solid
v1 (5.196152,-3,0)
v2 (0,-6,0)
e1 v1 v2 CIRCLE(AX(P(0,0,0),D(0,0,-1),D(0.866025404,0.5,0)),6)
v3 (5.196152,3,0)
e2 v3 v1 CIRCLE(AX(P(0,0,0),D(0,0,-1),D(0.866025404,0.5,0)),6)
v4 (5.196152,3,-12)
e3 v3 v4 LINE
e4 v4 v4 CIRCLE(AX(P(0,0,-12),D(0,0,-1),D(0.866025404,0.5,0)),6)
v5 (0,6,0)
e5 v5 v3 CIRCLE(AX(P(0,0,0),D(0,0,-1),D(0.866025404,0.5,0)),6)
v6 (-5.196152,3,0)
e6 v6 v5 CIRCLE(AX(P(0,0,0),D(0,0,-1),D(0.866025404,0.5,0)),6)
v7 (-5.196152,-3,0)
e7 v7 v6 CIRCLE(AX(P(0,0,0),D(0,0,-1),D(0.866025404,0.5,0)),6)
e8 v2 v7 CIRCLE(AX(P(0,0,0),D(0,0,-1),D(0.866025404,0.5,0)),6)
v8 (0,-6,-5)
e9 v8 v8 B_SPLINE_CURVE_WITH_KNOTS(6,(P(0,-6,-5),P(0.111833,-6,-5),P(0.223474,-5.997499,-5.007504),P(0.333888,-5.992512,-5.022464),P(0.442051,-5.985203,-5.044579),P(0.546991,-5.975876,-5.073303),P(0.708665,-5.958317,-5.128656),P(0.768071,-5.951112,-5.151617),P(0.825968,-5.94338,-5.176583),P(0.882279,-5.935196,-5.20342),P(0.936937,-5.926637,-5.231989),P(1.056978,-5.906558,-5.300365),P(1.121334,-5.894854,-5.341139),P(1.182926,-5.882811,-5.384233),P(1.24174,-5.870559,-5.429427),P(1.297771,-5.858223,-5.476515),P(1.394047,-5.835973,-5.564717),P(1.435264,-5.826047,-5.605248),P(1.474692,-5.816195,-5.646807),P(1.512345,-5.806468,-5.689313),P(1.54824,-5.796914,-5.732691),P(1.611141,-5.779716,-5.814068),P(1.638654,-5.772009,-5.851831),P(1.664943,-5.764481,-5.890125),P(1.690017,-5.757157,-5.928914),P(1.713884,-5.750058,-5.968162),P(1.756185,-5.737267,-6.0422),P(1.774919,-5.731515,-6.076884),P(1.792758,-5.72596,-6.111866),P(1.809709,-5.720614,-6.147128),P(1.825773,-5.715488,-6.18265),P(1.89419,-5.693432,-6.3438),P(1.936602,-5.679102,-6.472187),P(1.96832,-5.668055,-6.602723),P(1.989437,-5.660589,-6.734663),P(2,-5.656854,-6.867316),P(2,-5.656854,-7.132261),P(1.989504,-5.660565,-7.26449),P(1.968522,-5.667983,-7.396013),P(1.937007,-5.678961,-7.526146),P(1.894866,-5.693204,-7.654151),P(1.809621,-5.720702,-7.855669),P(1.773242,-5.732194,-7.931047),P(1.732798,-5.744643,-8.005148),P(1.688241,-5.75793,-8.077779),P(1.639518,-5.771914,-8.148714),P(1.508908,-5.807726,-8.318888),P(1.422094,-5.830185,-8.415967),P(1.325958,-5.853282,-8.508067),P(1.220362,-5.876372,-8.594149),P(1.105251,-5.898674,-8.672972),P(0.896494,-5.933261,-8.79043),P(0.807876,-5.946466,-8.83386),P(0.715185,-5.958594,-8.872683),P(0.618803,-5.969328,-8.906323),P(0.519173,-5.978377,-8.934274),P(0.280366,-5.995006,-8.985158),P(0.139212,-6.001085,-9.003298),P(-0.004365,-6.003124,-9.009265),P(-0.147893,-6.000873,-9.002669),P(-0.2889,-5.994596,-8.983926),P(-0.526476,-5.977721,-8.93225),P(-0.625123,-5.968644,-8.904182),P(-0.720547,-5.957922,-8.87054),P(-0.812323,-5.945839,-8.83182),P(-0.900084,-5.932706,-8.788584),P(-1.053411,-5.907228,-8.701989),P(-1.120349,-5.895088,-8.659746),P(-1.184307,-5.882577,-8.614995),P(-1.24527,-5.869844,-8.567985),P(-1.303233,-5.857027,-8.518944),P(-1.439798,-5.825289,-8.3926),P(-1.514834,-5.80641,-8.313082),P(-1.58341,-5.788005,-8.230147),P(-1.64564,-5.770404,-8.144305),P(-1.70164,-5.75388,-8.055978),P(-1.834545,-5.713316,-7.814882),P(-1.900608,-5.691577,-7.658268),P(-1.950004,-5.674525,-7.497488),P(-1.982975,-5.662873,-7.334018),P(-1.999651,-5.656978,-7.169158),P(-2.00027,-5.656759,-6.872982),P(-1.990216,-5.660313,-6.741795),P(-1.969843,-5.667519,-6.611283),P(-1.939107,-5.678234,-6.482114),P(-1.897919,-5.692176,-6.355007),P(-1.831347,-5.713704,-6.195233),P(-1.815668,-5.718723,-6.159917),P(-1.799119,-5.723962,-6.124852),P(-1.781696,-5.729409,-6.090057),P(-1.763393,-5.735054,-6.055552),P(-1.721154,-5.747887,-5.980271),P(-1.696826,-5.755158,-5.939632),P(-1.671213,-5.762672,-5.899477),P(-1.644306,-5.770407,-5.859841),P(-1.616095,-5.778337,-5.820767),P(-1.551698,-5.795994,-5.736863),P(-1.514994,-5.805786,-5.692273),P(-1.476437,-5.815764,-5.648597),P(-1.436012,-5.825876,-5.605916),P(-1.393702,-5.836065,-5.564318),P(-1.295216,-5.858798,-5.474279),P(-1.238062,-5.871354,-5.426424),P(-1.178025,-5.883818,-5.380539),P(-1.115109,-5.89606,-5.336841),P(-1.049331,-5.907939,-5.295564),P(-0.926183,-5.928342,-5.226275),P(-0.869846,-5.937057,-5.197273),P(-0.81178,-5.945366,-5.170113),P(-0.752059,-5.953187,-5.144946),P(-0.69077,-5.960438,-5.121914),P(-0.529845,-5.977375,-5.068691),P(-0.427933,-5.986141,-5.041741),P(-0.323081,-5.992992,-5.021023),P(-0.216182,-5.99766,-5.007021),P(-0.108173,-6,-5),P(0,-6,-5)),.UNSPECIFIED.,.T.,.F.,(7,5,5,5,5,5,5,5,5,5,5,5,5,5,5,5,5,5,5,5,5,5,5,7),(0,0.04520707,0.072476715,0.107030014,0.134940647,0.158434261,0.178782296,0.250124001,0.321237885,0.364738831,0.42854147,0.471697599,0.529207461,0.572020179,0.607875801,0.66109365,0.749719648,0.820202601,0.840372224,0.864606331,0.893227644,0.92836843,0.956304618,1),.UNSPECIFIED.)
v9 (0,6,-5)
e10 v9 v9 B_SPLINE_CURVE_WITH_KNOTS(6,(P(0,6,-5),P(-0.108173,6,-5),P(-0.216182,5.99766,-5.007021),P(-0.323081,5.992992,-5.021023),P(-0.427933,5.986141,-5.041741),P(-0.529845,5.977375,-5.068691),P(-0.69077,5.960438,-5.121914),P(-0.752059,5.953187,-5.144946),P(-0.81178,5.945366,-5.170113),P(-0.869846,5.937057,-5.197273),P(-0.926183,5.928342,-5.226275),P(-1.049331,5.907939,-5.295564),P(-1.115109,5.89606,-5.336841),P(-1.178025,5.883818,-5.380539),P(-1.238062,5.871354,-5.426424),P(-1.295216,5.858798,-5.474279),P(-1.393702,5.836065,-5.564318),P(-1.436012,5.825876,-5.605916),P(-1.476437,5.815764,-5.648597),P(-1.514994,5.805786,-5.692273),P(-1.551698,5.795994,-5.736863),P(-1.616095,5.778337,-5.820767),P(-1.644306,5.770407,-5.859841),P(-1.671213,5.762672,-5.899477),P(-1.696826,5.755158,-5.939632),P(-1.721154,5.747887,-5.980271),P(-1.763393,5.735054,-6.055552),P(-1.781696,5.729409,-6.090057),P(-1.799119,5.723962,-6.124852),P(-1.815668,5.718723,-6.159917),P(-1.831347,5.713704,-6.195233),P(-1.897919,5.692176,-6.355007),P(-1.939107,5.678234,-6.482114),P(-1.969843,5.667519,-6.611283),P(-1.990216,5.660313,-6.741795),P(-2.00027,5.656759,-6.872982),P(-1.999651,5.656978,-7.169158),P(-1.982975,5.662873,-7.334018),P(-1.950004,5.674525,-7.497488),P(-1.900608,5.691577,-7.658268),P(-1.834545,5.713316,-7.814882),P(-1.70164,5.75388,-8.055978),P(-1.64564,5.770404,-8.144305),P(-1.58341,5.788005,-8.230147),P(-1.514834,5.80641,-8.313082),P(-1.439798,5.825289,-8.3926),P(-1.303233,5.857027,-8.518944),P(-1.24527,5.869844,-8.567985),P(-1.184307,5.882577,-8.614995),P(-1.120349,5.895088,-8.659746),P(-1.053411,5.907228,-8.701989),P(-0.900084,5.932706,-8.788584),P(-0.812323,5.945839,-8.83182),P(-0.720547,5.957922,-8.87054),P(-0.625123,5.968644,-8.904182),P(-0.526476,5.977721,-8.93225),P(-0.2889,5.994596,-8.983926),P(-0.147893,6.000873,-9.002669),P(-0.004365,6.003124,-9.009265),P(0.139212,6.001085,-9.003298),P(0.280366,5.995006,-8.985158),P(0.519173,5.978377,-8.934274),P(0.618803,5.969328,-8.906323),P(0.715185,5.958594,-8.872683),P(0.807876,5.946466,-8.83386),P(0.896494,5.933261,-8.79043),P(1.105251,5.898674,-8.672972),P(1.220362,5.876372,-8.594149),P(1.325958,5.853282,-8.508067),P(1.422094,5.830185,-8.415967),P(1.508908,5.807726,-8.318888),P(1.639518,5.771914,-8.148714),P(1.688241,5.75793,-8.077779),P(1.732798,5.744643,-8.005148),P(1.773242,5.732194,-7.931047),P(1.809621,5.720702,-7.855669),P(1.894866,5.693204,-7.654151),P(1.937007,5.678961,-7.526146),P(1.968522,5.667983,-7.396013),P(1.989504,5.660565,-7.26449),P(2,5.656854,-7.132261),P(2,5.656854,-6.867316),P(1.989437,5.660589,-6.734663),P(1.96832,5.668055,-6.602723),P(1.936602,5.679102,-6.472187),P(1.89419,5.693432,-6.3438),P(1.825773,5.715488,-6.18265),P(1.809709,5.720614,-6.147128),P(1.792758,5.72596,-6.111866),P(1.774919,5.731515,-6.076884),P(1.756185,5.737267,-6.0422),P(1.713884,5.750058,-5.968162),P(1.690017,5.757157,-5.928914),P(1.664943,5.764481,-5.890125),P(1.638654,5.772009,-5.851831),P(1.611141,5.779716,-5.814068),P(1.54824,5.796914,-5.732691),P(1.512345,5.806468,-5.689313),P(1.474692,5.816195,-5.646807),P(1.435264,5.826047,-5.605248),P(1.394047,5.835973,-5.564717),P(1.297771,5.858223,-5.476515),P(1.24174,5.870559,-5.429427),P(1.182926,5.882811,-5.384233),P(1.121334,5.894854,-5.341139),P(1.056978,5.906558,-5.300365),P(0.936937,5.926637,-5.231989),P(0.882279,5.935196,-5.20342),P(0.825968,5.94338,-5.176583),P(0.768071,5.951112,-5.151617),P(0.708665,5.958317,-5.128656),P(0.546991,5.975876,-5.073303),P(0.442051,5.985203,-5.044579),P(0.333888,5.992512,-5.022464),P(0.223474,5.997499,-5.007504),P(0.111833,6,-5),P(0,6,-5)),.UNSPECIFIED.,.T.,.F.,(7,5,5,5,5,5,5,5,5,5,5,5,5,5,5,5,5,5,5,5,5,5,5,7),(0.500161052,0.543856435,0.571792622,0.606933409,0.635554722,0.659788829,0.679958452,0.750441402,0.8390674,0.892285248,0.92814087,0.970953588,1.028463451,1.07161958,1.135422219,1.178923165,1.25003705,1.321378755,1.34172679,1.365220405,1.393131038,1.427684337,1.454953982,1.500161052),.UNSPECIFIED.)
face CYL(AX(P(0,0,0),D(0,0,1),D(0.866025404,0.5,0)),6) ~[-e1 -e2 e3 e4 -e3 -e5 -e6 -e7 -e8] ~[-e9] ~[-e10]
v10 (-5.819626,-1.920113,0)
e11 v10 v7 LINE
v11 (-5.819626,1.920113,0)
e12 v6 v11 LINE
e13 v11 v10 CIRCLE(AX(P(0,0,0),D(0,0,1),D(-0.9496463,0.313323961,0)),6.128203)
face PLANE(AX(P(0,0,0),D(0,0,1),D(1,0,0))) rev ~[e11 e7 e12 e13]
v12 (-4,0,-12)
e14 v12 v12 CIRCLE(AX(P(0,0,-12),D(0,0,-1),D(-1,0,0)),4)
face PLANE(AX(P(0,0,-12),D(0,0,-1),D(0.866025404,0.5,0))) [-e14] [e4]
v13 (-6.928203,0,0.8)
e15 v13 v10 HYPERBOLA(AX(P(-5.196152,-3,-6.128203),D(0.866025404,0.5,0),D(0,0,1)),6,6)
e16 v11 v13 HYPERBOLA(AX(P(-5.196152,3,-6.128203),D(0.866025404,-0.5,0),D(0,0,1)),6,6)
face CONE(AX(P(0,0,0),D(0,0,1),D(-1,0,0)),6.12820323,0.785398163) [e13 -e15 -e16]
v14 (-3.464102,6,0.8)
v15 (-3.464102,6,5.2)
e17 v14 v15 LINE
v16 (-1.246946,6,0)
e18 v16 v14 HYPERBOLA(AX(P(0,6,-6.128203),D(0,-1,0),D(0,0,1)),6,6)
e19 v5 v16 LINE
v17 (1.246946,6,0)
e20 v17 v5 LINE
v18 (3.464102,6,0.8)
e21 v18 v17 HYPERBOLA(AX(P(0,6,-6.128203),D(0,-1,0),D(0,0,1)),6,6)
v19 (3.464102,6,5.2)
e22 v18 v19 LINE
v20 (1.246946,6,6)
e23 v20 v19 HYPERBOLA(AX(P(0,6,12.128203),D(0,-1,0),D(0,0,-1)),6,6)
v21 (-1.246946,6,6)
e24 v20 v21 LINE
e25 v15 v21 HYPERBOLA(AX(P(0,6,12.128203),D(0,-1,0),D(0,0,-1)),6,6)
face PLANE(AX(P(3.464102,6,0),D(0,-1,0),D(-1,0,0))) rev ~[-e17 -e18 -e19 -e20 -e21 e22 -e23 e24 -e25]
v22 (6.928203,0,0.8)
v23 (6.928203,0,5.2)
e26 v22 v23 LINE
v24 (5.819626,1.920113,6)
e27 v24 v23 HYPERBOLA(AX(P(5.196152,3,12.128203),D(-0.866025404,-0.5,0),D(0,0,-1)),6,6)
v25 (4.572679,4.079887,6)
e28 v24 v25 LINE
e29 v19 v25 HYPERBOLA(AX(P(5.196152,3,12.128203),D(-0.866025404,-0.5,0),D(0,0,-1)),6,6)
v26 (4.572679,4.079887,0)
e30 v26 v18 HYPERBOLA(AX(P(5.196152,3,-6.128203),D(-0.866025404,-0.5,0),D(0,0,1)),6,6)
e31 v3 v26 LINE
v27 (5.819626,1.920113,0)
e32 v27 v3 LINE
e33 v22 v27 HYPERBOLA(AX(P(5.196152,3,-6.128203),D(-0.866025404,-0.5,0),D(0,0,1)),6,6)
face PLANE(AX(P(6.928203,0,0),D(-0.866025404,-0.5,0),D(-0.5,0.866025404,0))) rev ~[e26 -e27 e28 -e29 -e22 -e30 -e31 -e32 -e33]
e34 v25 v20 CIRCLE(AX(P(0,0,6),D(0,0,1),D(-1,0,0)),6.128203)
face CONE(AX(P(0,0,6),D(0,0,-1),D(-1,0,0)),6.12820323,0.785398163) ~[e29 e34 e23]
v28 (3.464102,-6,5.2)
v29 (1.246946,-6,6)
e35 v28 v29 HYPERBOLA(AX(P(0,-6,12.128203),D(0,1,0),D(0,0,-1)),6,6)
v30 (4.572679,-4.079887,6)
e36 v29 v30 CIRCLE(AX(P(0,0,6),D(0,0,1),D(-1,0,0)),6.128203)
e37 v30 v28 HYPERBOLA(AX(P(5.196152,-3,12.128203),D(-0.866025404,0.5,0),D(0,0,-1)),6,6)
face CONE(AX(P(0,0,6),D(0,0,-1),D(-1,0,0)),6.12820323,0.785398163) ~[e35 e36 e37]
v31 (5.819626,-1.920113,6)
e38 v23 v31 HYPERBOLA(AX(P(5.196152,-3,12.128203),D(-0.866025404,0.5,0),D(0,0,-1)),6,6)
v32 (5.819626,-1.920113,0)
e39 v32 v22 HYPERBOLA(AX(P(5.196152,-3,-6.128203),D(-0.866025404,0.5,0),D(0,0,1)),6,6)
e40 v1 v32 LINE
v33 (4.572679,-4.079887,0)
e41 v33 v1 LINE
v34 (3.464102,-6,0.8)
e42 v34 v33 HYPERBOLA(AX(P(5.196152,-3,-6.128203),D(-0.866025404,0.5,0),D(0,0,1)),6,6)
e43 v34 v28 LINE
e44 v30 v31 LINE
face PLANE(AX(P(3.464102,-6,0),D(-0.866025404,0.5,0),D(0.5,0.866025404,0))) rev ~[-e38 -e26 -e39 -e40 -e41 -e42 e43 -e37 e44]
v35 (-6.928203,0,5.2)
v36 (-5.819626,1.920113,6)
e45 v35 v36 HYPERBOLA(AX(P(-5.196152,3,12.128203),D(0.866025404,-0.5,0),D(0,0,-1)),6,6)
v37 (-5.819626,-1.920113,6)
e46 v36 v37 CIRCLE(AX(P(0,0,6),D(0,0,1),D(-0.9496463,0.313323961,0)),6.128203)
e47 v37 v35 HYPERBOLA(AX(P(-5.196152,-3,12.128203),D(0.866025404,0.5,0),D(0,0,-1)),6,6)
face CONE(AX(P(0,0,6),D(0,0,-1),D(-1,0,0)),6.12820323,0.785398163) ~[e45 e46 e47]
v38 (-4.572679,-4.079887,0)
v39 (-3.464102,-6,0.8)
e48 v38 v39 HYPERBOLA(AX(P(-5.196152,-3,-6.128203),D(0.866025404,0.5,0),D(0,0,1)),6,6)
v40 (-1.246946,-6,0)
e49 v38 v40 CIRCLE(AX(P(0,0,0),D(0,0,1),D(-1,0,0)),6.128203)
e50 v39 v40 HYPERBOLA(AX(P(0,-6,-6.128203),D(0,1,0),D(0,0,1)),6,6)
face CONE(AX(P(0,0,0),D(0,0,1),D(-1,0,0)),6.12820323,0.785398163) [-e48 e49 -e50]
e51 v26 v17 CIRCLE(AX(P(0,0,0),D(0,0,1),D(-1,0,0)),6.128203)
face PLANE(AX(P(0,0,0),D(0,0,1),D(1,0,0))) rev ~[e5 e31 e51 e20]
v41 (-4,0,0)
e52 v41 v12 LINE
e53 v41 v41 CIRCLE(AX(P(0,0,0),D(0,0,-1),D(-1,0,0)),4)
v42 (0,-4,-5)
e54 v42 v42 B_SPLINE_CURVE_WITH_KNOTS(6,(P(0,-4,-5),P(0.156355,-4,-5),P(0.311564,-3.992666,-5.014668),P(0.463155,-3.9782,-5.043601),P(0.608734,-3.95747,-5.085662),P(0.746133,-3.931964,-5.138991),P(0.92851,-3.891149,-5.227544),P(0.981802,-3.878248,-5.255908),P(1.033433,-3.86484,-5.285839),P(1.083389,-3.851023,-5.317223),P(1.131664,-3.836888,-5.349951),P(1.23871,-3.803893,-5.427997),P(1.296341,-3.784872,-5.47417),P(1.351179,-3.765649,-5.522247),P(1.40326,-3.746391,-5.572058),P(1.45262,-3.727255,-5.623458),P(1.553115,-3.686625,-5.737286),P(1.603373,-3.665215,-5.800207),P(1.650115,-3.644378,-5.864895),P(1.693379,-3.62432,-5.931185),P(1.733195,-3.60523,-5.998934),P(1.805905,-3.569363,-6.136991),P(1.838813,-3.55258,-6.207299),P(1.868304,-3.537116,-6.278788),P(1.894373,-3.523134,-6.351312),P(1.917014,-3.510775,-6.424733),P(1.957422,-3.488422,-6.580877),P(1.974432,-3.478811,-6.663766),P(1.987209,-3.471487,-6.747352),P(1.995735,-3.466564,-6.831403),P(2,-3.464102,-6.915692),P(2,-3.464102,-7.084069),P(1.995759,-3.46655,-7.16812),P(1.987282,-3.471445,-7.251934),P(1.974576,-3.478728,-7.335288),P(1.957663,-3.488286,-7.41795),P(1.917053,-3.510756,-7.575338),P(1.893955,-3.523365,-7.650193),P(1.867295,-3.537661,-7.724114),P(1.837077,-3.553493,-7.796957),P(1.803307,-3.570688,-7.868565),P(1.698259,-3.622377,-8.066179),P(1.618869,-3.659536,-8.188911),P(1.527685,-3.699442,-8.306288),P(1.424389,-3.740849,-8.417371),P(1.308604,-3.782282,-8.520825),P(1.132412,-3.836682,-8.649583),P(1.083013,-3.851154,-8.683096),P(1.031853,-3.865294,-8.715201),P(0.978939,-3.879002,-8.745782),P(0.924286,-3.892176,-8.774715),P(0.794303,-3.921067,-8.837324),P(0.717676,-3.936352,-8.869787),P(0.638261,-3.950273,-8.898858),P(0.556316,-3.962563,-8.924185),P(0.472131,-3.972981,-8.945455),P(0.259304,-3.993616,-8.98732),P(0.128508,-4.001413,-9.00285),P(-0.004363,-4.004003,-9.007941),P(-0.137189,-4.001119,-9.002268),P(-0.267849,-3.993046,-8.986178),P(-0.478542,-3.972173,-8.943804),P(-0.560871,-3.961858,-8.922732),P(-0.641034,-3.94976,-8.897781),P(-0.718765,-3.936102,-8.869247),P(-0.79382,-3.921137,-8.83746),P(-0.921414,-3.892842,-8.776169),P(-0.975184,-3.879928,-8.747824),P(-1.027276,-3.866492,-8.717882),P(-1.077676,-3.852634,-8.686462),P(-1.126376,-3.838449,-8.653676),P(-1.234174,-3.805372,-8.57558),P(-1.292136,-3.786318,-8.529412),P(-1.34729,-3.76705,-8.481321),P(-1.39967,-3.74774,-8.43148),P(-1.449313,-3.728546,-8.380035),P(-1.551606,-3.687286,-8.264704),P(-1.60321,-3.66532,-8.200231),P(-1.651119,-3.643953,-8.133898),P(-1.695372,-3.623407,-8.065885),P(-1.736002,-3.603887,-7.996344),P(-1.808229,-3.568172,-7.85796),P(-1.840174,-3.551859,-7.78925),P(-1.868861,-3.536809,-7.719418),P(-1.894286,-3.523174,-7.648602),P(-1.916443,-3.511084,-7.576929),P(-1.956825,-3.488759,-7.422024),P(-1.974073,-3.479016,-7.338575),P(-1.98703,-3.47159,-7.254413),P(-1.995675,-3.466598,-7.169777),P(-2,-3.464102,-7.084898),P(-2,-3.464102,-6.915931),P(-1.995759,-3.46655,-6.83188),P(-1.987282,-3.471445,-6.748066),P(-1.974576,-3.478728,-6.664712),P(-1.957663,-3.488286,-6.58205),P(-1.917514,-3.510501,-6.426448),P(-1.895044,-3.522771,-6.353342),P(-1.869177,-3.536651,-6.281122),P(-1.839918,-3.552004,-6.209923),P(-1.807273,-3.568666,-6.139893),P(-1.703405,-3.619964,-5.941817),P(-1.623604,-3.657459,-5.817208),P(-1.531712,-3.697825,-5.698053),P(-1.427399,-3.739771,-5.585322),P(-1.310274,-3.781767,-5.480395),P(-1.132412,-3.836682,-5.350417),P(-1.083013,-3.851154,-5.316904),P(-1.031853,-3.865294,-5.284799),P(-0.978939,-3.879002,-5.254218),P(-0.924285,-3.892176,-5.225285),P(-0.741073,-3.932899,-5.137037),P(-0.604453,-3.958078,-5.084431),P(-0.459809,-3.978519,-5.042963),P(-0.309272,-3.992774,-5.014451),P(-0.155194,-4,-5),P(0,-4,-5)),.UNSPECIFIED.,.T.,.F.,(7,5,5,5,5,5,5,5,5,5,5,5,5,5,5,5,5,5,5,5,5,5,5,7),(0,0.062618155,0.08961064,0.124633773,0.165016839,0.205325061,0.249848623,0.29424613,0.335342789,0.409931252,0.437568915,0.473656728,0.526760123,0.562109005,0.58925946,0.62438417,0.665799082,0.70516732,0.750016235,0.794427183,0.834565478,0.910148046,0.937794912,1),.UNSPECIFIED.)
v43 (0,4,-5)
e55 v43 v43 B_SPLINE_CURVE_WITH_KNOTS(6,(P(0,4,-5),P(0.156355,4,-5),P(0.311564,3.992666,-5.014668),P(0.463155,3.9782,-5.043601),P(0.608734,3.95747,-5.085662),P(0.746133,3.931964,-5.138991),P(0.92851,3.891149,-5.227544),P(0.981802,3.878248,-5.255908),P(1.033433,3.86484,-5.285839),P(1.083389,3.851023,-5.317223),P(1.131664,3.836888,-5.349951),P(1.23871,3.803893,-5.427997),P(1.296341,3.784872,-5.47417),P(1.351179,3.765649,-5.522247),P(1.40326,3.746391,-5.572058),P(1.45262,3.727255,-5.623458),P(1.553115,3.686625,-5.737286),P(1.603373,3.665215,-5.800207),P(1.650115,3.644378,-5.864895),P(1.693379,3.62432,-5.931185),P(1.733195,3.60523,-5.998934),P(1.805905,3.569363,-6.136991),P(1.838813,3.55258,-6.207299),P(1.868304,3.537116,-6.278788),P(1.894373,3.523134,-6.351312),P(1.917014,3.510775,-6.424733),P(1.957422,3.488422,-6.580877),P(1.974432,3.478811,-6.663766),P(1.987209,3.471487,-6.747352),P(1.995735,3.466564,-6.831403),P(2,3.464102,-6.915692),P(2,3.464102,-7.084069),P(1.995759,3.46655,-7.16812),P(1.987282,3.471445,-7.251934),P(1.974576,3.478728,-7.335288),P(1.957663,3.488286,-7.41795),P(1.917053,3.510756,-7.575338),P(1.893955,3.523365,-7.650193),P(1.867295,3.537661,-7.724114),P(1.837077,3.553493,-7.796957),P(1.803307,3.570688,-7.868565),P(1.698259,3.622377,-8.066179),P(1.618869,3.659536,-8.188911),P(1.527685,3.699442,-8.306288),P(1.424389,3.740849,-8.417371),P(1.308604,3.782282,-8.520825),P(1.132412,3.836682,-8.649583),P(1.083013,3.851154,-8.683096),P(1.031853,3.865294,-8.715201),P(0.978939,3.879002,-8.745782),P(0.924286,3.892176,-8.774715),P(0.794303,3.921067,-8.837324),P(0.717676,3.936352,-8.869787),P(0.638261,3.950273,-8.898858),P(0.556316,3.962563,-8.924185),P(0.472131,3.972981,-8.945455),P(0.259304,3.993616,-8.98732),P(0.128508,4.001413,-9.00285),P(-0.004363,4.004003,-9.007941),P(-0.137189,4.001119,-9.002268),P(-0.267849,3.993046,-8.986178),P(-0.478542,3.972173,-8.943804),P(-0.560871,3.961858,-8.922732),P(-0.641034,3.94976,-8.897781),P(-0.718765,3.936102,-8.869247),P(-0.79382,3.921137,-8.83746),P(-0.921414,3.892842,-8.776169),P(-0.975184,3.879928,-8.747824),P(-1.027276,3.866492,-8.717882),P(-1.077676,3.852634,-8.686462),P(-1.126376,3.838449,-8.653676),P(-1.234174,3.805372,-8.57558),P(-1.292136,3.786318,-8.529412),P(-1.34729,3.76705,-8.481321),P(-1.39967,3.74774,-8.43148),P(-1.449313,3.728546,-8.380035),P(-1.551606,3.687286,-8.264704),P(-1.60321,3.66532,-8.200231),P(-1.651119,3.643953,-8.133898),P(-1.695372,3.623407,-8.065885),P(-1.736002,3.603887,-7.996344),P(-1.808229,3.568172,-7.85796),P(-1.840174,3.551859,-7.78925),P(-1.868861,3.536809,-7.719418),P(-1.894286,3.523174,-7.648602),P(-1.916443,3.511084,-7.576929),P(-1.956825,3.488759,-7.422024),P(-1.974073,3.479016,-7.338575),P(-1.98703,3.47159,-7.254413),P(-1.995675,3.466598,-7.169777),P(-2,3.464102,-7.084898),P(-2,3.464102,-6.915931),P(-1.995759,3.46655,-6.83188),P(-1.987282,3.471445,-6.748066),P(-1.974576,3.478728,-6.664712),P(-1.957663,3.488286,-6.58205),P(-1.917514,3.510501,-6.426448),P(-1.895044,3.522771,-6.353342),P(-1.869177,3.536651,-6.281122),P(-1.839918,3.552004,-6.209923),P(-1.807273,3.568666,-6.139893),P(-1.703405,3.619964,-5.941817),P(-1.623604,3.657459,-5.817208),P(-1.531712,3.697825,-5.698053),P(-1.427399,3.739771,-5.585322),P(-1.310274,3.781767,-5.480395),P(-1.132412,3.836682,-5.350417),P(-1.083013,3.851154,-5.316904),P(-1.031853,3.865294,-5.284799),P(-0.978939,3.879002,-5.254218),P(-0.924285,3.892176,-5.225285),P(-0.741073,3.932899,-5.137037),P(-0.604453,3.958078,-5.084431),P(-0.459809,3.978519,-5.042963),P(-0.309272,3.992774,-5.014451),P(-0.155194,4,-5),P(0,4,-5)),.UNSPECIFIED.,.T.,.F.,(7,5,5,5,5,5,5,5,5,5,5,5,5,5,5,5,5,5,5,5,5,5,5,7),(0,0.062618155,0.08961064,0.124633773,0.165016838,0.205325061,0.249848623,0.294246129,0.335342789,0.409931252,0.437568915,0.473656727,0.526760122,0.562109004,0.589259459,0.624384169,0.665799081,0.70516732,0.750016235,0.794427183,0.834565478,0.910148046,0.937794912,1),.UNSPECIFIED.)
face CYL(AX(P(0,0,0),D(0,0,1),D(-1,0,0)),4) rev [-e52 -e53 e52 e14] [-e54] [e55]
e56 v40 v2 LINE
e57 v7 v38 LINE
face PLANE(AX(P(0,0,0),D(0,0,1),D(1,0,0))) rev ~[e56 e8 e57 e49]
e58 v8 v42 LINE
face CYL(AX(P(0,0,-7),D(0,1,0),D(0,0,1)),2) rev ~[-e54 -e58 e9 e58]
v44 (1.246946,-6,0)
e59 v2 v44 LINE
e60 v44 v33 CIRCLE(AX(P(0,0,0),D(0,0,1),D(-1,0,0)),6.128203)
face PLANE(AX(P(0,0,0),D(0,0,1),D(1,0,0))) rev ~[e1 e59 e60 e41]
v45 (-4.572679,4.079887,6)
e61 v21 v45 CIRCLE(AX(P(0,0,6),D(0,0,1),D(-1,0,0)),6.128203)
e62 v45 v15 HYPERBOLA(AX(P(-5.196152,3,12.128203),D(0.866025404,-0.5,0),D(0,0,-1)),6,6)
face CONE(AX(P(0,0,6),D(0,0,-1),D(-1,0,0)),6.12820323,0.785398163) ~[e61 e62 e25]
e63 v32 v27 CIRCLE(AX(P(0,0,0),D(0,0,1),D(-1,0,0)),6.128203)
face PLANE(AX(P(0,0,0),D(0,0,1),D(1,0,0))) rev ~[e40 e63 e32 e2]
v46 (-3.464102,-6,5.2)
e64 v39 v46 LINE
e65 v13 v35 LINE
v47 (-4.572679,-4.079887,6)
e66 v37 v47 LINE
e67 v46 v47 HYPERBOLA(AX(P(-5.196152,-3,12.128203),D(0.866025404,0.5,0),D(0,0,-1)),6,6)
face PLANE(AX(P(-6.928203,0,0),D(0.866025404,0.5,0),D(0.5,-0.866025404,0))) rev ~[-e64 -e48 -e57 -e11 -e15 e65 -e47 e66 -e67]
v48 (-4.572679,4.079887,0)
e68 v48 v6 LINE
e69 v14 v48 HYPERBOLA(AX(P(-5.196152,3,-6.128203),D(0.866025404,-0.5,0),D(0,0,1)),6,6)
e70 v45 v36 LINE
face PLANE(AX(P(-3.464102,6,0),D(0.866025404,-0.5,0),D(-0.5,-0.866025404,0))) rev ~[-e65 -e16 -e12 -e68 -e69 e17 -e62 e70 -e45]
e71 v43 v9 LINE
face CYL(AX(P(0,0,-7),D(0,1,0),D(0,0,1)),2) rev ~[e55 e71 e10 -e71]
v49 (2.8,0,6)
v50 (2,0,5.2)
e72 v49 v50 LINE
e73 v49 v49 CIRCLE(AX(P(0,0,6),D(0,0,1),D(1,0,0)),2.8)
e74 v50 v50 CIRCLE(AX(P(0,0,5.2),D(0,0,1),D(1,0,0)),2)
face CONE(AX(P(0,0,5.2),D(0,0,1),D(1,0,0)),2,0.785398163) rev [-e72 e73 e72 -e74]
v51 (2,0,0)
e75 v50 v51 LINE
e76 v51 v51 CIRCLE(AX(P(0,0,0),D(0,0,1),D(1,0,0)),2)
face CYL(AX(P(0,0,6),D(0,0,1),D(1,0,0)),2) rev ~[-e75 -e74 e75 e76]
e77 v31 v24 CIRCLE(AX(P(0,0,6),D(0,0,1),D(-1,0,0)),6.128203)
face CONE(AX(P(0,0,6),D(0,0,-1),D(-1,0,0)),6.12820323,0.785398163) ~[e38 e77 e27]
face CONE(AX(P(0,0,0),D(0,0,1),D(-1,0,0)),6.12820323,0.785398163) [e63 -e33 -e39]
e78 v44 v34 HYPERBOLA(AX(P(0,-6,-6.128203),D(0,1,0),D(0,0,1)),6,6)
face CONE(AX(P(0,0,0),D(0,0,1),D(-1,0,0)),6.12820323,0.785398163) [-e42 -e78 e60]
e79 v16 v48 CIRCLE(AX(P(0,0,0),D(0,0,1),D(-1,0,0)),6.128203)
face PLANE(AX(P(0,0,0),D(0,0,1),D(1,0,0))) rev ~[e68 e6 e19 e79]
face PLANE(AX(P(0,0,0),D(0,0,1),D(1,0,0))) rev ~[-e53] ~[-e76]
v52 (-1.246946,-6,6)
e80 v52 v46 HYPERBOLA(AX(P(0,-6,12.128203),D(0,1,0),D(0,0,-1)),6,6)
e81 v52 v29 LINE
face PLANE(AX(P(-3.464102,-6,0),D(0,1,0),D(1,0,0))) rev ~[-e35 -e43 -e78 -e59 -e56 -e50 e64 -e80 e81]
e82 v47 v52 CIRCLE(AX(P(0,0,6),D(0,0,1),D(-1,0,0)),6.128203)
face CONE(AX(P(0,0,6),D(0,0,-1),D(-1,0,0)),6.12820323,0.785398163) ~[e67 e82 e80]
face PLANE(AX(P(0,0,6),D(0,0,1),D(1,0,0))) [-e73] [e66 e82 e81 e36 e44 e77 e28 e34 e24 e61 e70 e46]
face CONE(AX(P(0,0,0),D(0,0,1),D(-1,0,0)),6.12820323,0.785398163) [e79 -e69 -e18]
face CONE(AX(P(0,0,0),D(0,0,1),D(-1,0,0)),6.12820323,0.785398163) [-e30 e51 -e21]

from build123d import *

# Parameters (mm, degrees)
EXTRUDE_1_DEPTH     = 6
SKETCH_2_R          = 6
SKETCH_2_R_2        = 4
EXTRUDE_2_DEPTH     = 12
SKETCH_3_R          = 2
CUT_EXTRUDE_1_DEPTH = 12
CHAMFER_1_SIZE      = 0.8
SKETCH_4_R          = 2
CUT_EXTRUDE_2_DEPTH = 6


with BuildPart() as part:
    # 草图1 → 凸台-拉伸1 (new body)
    with BuildSketch(Plane.XY):
        Polygon((6.92820323, 0), (3.464101615, 6), (-3.464101615, 6), (-6.92820323, 0), (-3.464101615, -6), (3.464101615, -6), align=None)
    extrude(amount=EXTRUDE_1_DEPTH)

    # 草图2 → 凸台-拉伸2 (add)
    with BuildSketch(Plane(origin=(0, 0, 0), x_dir=(-1, 0, 0), z_dir=(0, 0, -1))):
        with Locations(Location((0, 0, 0), (0, 0, 150))):
            Circle(SKETCH_2_R)
        Circle(SKETCH_2_R_2, mode=Mode.SUBTRACT)
    extrude(amount=EXTRUDE_2_DEPTH)

    # 草图3 → 切除-拉伸1 (cut)
    with BuildSketch(Plane.XY.offset(6)):
        Circle(SKETCH_3_R)
    extrude(amount=-CUT_EXTRUDE_1_DEPTH, mode=Mode.SUBTRACT)

    # 倒角1
    chamfer_1_edges = [part.edges().sort_by_distance(p)[0] for p in [
        (-2, 0, 6),
    ]]
    chamfer(chamfer_1_edges, length=CHAMFER_1_SIZE)

    # 草图4 → 切除-拉伸2 (cut, symmetric)
    with BuildSketch(Plane(origin=(0, 0, 0), x_dir=(1, 0, 0), z_dir=(0, 1, 0))):
        with Locations(Location((0, 7, 0), (0, 0, 270))):
            Circle(SKETCH_4_R)
    extrude(amount=CUT_EXTRUDE_2_DEPTH, both=True, mode=Mode.SUBTRACT)

    # 草图5 → 切除-旋转1 (revolve, cut)
    with BuildSketch(Plane(origin=(0, 0, 0), x_dir=(1, 0, 0), z_dir=(0, 1, 0))):
        Polygon((-6.92820323, 0), (-6.12820323, 0), (-6.92820323, -0.8), align=None)
        Polygon((-6.92820323, -5.2), (-6.92820323, -6), (-6.12820323, -6), align=None)
    revolve(axis=Axis((0, 0, 0), (0, 0, 1)), mode=Mode.SUBTRACT)


solid = part.part
